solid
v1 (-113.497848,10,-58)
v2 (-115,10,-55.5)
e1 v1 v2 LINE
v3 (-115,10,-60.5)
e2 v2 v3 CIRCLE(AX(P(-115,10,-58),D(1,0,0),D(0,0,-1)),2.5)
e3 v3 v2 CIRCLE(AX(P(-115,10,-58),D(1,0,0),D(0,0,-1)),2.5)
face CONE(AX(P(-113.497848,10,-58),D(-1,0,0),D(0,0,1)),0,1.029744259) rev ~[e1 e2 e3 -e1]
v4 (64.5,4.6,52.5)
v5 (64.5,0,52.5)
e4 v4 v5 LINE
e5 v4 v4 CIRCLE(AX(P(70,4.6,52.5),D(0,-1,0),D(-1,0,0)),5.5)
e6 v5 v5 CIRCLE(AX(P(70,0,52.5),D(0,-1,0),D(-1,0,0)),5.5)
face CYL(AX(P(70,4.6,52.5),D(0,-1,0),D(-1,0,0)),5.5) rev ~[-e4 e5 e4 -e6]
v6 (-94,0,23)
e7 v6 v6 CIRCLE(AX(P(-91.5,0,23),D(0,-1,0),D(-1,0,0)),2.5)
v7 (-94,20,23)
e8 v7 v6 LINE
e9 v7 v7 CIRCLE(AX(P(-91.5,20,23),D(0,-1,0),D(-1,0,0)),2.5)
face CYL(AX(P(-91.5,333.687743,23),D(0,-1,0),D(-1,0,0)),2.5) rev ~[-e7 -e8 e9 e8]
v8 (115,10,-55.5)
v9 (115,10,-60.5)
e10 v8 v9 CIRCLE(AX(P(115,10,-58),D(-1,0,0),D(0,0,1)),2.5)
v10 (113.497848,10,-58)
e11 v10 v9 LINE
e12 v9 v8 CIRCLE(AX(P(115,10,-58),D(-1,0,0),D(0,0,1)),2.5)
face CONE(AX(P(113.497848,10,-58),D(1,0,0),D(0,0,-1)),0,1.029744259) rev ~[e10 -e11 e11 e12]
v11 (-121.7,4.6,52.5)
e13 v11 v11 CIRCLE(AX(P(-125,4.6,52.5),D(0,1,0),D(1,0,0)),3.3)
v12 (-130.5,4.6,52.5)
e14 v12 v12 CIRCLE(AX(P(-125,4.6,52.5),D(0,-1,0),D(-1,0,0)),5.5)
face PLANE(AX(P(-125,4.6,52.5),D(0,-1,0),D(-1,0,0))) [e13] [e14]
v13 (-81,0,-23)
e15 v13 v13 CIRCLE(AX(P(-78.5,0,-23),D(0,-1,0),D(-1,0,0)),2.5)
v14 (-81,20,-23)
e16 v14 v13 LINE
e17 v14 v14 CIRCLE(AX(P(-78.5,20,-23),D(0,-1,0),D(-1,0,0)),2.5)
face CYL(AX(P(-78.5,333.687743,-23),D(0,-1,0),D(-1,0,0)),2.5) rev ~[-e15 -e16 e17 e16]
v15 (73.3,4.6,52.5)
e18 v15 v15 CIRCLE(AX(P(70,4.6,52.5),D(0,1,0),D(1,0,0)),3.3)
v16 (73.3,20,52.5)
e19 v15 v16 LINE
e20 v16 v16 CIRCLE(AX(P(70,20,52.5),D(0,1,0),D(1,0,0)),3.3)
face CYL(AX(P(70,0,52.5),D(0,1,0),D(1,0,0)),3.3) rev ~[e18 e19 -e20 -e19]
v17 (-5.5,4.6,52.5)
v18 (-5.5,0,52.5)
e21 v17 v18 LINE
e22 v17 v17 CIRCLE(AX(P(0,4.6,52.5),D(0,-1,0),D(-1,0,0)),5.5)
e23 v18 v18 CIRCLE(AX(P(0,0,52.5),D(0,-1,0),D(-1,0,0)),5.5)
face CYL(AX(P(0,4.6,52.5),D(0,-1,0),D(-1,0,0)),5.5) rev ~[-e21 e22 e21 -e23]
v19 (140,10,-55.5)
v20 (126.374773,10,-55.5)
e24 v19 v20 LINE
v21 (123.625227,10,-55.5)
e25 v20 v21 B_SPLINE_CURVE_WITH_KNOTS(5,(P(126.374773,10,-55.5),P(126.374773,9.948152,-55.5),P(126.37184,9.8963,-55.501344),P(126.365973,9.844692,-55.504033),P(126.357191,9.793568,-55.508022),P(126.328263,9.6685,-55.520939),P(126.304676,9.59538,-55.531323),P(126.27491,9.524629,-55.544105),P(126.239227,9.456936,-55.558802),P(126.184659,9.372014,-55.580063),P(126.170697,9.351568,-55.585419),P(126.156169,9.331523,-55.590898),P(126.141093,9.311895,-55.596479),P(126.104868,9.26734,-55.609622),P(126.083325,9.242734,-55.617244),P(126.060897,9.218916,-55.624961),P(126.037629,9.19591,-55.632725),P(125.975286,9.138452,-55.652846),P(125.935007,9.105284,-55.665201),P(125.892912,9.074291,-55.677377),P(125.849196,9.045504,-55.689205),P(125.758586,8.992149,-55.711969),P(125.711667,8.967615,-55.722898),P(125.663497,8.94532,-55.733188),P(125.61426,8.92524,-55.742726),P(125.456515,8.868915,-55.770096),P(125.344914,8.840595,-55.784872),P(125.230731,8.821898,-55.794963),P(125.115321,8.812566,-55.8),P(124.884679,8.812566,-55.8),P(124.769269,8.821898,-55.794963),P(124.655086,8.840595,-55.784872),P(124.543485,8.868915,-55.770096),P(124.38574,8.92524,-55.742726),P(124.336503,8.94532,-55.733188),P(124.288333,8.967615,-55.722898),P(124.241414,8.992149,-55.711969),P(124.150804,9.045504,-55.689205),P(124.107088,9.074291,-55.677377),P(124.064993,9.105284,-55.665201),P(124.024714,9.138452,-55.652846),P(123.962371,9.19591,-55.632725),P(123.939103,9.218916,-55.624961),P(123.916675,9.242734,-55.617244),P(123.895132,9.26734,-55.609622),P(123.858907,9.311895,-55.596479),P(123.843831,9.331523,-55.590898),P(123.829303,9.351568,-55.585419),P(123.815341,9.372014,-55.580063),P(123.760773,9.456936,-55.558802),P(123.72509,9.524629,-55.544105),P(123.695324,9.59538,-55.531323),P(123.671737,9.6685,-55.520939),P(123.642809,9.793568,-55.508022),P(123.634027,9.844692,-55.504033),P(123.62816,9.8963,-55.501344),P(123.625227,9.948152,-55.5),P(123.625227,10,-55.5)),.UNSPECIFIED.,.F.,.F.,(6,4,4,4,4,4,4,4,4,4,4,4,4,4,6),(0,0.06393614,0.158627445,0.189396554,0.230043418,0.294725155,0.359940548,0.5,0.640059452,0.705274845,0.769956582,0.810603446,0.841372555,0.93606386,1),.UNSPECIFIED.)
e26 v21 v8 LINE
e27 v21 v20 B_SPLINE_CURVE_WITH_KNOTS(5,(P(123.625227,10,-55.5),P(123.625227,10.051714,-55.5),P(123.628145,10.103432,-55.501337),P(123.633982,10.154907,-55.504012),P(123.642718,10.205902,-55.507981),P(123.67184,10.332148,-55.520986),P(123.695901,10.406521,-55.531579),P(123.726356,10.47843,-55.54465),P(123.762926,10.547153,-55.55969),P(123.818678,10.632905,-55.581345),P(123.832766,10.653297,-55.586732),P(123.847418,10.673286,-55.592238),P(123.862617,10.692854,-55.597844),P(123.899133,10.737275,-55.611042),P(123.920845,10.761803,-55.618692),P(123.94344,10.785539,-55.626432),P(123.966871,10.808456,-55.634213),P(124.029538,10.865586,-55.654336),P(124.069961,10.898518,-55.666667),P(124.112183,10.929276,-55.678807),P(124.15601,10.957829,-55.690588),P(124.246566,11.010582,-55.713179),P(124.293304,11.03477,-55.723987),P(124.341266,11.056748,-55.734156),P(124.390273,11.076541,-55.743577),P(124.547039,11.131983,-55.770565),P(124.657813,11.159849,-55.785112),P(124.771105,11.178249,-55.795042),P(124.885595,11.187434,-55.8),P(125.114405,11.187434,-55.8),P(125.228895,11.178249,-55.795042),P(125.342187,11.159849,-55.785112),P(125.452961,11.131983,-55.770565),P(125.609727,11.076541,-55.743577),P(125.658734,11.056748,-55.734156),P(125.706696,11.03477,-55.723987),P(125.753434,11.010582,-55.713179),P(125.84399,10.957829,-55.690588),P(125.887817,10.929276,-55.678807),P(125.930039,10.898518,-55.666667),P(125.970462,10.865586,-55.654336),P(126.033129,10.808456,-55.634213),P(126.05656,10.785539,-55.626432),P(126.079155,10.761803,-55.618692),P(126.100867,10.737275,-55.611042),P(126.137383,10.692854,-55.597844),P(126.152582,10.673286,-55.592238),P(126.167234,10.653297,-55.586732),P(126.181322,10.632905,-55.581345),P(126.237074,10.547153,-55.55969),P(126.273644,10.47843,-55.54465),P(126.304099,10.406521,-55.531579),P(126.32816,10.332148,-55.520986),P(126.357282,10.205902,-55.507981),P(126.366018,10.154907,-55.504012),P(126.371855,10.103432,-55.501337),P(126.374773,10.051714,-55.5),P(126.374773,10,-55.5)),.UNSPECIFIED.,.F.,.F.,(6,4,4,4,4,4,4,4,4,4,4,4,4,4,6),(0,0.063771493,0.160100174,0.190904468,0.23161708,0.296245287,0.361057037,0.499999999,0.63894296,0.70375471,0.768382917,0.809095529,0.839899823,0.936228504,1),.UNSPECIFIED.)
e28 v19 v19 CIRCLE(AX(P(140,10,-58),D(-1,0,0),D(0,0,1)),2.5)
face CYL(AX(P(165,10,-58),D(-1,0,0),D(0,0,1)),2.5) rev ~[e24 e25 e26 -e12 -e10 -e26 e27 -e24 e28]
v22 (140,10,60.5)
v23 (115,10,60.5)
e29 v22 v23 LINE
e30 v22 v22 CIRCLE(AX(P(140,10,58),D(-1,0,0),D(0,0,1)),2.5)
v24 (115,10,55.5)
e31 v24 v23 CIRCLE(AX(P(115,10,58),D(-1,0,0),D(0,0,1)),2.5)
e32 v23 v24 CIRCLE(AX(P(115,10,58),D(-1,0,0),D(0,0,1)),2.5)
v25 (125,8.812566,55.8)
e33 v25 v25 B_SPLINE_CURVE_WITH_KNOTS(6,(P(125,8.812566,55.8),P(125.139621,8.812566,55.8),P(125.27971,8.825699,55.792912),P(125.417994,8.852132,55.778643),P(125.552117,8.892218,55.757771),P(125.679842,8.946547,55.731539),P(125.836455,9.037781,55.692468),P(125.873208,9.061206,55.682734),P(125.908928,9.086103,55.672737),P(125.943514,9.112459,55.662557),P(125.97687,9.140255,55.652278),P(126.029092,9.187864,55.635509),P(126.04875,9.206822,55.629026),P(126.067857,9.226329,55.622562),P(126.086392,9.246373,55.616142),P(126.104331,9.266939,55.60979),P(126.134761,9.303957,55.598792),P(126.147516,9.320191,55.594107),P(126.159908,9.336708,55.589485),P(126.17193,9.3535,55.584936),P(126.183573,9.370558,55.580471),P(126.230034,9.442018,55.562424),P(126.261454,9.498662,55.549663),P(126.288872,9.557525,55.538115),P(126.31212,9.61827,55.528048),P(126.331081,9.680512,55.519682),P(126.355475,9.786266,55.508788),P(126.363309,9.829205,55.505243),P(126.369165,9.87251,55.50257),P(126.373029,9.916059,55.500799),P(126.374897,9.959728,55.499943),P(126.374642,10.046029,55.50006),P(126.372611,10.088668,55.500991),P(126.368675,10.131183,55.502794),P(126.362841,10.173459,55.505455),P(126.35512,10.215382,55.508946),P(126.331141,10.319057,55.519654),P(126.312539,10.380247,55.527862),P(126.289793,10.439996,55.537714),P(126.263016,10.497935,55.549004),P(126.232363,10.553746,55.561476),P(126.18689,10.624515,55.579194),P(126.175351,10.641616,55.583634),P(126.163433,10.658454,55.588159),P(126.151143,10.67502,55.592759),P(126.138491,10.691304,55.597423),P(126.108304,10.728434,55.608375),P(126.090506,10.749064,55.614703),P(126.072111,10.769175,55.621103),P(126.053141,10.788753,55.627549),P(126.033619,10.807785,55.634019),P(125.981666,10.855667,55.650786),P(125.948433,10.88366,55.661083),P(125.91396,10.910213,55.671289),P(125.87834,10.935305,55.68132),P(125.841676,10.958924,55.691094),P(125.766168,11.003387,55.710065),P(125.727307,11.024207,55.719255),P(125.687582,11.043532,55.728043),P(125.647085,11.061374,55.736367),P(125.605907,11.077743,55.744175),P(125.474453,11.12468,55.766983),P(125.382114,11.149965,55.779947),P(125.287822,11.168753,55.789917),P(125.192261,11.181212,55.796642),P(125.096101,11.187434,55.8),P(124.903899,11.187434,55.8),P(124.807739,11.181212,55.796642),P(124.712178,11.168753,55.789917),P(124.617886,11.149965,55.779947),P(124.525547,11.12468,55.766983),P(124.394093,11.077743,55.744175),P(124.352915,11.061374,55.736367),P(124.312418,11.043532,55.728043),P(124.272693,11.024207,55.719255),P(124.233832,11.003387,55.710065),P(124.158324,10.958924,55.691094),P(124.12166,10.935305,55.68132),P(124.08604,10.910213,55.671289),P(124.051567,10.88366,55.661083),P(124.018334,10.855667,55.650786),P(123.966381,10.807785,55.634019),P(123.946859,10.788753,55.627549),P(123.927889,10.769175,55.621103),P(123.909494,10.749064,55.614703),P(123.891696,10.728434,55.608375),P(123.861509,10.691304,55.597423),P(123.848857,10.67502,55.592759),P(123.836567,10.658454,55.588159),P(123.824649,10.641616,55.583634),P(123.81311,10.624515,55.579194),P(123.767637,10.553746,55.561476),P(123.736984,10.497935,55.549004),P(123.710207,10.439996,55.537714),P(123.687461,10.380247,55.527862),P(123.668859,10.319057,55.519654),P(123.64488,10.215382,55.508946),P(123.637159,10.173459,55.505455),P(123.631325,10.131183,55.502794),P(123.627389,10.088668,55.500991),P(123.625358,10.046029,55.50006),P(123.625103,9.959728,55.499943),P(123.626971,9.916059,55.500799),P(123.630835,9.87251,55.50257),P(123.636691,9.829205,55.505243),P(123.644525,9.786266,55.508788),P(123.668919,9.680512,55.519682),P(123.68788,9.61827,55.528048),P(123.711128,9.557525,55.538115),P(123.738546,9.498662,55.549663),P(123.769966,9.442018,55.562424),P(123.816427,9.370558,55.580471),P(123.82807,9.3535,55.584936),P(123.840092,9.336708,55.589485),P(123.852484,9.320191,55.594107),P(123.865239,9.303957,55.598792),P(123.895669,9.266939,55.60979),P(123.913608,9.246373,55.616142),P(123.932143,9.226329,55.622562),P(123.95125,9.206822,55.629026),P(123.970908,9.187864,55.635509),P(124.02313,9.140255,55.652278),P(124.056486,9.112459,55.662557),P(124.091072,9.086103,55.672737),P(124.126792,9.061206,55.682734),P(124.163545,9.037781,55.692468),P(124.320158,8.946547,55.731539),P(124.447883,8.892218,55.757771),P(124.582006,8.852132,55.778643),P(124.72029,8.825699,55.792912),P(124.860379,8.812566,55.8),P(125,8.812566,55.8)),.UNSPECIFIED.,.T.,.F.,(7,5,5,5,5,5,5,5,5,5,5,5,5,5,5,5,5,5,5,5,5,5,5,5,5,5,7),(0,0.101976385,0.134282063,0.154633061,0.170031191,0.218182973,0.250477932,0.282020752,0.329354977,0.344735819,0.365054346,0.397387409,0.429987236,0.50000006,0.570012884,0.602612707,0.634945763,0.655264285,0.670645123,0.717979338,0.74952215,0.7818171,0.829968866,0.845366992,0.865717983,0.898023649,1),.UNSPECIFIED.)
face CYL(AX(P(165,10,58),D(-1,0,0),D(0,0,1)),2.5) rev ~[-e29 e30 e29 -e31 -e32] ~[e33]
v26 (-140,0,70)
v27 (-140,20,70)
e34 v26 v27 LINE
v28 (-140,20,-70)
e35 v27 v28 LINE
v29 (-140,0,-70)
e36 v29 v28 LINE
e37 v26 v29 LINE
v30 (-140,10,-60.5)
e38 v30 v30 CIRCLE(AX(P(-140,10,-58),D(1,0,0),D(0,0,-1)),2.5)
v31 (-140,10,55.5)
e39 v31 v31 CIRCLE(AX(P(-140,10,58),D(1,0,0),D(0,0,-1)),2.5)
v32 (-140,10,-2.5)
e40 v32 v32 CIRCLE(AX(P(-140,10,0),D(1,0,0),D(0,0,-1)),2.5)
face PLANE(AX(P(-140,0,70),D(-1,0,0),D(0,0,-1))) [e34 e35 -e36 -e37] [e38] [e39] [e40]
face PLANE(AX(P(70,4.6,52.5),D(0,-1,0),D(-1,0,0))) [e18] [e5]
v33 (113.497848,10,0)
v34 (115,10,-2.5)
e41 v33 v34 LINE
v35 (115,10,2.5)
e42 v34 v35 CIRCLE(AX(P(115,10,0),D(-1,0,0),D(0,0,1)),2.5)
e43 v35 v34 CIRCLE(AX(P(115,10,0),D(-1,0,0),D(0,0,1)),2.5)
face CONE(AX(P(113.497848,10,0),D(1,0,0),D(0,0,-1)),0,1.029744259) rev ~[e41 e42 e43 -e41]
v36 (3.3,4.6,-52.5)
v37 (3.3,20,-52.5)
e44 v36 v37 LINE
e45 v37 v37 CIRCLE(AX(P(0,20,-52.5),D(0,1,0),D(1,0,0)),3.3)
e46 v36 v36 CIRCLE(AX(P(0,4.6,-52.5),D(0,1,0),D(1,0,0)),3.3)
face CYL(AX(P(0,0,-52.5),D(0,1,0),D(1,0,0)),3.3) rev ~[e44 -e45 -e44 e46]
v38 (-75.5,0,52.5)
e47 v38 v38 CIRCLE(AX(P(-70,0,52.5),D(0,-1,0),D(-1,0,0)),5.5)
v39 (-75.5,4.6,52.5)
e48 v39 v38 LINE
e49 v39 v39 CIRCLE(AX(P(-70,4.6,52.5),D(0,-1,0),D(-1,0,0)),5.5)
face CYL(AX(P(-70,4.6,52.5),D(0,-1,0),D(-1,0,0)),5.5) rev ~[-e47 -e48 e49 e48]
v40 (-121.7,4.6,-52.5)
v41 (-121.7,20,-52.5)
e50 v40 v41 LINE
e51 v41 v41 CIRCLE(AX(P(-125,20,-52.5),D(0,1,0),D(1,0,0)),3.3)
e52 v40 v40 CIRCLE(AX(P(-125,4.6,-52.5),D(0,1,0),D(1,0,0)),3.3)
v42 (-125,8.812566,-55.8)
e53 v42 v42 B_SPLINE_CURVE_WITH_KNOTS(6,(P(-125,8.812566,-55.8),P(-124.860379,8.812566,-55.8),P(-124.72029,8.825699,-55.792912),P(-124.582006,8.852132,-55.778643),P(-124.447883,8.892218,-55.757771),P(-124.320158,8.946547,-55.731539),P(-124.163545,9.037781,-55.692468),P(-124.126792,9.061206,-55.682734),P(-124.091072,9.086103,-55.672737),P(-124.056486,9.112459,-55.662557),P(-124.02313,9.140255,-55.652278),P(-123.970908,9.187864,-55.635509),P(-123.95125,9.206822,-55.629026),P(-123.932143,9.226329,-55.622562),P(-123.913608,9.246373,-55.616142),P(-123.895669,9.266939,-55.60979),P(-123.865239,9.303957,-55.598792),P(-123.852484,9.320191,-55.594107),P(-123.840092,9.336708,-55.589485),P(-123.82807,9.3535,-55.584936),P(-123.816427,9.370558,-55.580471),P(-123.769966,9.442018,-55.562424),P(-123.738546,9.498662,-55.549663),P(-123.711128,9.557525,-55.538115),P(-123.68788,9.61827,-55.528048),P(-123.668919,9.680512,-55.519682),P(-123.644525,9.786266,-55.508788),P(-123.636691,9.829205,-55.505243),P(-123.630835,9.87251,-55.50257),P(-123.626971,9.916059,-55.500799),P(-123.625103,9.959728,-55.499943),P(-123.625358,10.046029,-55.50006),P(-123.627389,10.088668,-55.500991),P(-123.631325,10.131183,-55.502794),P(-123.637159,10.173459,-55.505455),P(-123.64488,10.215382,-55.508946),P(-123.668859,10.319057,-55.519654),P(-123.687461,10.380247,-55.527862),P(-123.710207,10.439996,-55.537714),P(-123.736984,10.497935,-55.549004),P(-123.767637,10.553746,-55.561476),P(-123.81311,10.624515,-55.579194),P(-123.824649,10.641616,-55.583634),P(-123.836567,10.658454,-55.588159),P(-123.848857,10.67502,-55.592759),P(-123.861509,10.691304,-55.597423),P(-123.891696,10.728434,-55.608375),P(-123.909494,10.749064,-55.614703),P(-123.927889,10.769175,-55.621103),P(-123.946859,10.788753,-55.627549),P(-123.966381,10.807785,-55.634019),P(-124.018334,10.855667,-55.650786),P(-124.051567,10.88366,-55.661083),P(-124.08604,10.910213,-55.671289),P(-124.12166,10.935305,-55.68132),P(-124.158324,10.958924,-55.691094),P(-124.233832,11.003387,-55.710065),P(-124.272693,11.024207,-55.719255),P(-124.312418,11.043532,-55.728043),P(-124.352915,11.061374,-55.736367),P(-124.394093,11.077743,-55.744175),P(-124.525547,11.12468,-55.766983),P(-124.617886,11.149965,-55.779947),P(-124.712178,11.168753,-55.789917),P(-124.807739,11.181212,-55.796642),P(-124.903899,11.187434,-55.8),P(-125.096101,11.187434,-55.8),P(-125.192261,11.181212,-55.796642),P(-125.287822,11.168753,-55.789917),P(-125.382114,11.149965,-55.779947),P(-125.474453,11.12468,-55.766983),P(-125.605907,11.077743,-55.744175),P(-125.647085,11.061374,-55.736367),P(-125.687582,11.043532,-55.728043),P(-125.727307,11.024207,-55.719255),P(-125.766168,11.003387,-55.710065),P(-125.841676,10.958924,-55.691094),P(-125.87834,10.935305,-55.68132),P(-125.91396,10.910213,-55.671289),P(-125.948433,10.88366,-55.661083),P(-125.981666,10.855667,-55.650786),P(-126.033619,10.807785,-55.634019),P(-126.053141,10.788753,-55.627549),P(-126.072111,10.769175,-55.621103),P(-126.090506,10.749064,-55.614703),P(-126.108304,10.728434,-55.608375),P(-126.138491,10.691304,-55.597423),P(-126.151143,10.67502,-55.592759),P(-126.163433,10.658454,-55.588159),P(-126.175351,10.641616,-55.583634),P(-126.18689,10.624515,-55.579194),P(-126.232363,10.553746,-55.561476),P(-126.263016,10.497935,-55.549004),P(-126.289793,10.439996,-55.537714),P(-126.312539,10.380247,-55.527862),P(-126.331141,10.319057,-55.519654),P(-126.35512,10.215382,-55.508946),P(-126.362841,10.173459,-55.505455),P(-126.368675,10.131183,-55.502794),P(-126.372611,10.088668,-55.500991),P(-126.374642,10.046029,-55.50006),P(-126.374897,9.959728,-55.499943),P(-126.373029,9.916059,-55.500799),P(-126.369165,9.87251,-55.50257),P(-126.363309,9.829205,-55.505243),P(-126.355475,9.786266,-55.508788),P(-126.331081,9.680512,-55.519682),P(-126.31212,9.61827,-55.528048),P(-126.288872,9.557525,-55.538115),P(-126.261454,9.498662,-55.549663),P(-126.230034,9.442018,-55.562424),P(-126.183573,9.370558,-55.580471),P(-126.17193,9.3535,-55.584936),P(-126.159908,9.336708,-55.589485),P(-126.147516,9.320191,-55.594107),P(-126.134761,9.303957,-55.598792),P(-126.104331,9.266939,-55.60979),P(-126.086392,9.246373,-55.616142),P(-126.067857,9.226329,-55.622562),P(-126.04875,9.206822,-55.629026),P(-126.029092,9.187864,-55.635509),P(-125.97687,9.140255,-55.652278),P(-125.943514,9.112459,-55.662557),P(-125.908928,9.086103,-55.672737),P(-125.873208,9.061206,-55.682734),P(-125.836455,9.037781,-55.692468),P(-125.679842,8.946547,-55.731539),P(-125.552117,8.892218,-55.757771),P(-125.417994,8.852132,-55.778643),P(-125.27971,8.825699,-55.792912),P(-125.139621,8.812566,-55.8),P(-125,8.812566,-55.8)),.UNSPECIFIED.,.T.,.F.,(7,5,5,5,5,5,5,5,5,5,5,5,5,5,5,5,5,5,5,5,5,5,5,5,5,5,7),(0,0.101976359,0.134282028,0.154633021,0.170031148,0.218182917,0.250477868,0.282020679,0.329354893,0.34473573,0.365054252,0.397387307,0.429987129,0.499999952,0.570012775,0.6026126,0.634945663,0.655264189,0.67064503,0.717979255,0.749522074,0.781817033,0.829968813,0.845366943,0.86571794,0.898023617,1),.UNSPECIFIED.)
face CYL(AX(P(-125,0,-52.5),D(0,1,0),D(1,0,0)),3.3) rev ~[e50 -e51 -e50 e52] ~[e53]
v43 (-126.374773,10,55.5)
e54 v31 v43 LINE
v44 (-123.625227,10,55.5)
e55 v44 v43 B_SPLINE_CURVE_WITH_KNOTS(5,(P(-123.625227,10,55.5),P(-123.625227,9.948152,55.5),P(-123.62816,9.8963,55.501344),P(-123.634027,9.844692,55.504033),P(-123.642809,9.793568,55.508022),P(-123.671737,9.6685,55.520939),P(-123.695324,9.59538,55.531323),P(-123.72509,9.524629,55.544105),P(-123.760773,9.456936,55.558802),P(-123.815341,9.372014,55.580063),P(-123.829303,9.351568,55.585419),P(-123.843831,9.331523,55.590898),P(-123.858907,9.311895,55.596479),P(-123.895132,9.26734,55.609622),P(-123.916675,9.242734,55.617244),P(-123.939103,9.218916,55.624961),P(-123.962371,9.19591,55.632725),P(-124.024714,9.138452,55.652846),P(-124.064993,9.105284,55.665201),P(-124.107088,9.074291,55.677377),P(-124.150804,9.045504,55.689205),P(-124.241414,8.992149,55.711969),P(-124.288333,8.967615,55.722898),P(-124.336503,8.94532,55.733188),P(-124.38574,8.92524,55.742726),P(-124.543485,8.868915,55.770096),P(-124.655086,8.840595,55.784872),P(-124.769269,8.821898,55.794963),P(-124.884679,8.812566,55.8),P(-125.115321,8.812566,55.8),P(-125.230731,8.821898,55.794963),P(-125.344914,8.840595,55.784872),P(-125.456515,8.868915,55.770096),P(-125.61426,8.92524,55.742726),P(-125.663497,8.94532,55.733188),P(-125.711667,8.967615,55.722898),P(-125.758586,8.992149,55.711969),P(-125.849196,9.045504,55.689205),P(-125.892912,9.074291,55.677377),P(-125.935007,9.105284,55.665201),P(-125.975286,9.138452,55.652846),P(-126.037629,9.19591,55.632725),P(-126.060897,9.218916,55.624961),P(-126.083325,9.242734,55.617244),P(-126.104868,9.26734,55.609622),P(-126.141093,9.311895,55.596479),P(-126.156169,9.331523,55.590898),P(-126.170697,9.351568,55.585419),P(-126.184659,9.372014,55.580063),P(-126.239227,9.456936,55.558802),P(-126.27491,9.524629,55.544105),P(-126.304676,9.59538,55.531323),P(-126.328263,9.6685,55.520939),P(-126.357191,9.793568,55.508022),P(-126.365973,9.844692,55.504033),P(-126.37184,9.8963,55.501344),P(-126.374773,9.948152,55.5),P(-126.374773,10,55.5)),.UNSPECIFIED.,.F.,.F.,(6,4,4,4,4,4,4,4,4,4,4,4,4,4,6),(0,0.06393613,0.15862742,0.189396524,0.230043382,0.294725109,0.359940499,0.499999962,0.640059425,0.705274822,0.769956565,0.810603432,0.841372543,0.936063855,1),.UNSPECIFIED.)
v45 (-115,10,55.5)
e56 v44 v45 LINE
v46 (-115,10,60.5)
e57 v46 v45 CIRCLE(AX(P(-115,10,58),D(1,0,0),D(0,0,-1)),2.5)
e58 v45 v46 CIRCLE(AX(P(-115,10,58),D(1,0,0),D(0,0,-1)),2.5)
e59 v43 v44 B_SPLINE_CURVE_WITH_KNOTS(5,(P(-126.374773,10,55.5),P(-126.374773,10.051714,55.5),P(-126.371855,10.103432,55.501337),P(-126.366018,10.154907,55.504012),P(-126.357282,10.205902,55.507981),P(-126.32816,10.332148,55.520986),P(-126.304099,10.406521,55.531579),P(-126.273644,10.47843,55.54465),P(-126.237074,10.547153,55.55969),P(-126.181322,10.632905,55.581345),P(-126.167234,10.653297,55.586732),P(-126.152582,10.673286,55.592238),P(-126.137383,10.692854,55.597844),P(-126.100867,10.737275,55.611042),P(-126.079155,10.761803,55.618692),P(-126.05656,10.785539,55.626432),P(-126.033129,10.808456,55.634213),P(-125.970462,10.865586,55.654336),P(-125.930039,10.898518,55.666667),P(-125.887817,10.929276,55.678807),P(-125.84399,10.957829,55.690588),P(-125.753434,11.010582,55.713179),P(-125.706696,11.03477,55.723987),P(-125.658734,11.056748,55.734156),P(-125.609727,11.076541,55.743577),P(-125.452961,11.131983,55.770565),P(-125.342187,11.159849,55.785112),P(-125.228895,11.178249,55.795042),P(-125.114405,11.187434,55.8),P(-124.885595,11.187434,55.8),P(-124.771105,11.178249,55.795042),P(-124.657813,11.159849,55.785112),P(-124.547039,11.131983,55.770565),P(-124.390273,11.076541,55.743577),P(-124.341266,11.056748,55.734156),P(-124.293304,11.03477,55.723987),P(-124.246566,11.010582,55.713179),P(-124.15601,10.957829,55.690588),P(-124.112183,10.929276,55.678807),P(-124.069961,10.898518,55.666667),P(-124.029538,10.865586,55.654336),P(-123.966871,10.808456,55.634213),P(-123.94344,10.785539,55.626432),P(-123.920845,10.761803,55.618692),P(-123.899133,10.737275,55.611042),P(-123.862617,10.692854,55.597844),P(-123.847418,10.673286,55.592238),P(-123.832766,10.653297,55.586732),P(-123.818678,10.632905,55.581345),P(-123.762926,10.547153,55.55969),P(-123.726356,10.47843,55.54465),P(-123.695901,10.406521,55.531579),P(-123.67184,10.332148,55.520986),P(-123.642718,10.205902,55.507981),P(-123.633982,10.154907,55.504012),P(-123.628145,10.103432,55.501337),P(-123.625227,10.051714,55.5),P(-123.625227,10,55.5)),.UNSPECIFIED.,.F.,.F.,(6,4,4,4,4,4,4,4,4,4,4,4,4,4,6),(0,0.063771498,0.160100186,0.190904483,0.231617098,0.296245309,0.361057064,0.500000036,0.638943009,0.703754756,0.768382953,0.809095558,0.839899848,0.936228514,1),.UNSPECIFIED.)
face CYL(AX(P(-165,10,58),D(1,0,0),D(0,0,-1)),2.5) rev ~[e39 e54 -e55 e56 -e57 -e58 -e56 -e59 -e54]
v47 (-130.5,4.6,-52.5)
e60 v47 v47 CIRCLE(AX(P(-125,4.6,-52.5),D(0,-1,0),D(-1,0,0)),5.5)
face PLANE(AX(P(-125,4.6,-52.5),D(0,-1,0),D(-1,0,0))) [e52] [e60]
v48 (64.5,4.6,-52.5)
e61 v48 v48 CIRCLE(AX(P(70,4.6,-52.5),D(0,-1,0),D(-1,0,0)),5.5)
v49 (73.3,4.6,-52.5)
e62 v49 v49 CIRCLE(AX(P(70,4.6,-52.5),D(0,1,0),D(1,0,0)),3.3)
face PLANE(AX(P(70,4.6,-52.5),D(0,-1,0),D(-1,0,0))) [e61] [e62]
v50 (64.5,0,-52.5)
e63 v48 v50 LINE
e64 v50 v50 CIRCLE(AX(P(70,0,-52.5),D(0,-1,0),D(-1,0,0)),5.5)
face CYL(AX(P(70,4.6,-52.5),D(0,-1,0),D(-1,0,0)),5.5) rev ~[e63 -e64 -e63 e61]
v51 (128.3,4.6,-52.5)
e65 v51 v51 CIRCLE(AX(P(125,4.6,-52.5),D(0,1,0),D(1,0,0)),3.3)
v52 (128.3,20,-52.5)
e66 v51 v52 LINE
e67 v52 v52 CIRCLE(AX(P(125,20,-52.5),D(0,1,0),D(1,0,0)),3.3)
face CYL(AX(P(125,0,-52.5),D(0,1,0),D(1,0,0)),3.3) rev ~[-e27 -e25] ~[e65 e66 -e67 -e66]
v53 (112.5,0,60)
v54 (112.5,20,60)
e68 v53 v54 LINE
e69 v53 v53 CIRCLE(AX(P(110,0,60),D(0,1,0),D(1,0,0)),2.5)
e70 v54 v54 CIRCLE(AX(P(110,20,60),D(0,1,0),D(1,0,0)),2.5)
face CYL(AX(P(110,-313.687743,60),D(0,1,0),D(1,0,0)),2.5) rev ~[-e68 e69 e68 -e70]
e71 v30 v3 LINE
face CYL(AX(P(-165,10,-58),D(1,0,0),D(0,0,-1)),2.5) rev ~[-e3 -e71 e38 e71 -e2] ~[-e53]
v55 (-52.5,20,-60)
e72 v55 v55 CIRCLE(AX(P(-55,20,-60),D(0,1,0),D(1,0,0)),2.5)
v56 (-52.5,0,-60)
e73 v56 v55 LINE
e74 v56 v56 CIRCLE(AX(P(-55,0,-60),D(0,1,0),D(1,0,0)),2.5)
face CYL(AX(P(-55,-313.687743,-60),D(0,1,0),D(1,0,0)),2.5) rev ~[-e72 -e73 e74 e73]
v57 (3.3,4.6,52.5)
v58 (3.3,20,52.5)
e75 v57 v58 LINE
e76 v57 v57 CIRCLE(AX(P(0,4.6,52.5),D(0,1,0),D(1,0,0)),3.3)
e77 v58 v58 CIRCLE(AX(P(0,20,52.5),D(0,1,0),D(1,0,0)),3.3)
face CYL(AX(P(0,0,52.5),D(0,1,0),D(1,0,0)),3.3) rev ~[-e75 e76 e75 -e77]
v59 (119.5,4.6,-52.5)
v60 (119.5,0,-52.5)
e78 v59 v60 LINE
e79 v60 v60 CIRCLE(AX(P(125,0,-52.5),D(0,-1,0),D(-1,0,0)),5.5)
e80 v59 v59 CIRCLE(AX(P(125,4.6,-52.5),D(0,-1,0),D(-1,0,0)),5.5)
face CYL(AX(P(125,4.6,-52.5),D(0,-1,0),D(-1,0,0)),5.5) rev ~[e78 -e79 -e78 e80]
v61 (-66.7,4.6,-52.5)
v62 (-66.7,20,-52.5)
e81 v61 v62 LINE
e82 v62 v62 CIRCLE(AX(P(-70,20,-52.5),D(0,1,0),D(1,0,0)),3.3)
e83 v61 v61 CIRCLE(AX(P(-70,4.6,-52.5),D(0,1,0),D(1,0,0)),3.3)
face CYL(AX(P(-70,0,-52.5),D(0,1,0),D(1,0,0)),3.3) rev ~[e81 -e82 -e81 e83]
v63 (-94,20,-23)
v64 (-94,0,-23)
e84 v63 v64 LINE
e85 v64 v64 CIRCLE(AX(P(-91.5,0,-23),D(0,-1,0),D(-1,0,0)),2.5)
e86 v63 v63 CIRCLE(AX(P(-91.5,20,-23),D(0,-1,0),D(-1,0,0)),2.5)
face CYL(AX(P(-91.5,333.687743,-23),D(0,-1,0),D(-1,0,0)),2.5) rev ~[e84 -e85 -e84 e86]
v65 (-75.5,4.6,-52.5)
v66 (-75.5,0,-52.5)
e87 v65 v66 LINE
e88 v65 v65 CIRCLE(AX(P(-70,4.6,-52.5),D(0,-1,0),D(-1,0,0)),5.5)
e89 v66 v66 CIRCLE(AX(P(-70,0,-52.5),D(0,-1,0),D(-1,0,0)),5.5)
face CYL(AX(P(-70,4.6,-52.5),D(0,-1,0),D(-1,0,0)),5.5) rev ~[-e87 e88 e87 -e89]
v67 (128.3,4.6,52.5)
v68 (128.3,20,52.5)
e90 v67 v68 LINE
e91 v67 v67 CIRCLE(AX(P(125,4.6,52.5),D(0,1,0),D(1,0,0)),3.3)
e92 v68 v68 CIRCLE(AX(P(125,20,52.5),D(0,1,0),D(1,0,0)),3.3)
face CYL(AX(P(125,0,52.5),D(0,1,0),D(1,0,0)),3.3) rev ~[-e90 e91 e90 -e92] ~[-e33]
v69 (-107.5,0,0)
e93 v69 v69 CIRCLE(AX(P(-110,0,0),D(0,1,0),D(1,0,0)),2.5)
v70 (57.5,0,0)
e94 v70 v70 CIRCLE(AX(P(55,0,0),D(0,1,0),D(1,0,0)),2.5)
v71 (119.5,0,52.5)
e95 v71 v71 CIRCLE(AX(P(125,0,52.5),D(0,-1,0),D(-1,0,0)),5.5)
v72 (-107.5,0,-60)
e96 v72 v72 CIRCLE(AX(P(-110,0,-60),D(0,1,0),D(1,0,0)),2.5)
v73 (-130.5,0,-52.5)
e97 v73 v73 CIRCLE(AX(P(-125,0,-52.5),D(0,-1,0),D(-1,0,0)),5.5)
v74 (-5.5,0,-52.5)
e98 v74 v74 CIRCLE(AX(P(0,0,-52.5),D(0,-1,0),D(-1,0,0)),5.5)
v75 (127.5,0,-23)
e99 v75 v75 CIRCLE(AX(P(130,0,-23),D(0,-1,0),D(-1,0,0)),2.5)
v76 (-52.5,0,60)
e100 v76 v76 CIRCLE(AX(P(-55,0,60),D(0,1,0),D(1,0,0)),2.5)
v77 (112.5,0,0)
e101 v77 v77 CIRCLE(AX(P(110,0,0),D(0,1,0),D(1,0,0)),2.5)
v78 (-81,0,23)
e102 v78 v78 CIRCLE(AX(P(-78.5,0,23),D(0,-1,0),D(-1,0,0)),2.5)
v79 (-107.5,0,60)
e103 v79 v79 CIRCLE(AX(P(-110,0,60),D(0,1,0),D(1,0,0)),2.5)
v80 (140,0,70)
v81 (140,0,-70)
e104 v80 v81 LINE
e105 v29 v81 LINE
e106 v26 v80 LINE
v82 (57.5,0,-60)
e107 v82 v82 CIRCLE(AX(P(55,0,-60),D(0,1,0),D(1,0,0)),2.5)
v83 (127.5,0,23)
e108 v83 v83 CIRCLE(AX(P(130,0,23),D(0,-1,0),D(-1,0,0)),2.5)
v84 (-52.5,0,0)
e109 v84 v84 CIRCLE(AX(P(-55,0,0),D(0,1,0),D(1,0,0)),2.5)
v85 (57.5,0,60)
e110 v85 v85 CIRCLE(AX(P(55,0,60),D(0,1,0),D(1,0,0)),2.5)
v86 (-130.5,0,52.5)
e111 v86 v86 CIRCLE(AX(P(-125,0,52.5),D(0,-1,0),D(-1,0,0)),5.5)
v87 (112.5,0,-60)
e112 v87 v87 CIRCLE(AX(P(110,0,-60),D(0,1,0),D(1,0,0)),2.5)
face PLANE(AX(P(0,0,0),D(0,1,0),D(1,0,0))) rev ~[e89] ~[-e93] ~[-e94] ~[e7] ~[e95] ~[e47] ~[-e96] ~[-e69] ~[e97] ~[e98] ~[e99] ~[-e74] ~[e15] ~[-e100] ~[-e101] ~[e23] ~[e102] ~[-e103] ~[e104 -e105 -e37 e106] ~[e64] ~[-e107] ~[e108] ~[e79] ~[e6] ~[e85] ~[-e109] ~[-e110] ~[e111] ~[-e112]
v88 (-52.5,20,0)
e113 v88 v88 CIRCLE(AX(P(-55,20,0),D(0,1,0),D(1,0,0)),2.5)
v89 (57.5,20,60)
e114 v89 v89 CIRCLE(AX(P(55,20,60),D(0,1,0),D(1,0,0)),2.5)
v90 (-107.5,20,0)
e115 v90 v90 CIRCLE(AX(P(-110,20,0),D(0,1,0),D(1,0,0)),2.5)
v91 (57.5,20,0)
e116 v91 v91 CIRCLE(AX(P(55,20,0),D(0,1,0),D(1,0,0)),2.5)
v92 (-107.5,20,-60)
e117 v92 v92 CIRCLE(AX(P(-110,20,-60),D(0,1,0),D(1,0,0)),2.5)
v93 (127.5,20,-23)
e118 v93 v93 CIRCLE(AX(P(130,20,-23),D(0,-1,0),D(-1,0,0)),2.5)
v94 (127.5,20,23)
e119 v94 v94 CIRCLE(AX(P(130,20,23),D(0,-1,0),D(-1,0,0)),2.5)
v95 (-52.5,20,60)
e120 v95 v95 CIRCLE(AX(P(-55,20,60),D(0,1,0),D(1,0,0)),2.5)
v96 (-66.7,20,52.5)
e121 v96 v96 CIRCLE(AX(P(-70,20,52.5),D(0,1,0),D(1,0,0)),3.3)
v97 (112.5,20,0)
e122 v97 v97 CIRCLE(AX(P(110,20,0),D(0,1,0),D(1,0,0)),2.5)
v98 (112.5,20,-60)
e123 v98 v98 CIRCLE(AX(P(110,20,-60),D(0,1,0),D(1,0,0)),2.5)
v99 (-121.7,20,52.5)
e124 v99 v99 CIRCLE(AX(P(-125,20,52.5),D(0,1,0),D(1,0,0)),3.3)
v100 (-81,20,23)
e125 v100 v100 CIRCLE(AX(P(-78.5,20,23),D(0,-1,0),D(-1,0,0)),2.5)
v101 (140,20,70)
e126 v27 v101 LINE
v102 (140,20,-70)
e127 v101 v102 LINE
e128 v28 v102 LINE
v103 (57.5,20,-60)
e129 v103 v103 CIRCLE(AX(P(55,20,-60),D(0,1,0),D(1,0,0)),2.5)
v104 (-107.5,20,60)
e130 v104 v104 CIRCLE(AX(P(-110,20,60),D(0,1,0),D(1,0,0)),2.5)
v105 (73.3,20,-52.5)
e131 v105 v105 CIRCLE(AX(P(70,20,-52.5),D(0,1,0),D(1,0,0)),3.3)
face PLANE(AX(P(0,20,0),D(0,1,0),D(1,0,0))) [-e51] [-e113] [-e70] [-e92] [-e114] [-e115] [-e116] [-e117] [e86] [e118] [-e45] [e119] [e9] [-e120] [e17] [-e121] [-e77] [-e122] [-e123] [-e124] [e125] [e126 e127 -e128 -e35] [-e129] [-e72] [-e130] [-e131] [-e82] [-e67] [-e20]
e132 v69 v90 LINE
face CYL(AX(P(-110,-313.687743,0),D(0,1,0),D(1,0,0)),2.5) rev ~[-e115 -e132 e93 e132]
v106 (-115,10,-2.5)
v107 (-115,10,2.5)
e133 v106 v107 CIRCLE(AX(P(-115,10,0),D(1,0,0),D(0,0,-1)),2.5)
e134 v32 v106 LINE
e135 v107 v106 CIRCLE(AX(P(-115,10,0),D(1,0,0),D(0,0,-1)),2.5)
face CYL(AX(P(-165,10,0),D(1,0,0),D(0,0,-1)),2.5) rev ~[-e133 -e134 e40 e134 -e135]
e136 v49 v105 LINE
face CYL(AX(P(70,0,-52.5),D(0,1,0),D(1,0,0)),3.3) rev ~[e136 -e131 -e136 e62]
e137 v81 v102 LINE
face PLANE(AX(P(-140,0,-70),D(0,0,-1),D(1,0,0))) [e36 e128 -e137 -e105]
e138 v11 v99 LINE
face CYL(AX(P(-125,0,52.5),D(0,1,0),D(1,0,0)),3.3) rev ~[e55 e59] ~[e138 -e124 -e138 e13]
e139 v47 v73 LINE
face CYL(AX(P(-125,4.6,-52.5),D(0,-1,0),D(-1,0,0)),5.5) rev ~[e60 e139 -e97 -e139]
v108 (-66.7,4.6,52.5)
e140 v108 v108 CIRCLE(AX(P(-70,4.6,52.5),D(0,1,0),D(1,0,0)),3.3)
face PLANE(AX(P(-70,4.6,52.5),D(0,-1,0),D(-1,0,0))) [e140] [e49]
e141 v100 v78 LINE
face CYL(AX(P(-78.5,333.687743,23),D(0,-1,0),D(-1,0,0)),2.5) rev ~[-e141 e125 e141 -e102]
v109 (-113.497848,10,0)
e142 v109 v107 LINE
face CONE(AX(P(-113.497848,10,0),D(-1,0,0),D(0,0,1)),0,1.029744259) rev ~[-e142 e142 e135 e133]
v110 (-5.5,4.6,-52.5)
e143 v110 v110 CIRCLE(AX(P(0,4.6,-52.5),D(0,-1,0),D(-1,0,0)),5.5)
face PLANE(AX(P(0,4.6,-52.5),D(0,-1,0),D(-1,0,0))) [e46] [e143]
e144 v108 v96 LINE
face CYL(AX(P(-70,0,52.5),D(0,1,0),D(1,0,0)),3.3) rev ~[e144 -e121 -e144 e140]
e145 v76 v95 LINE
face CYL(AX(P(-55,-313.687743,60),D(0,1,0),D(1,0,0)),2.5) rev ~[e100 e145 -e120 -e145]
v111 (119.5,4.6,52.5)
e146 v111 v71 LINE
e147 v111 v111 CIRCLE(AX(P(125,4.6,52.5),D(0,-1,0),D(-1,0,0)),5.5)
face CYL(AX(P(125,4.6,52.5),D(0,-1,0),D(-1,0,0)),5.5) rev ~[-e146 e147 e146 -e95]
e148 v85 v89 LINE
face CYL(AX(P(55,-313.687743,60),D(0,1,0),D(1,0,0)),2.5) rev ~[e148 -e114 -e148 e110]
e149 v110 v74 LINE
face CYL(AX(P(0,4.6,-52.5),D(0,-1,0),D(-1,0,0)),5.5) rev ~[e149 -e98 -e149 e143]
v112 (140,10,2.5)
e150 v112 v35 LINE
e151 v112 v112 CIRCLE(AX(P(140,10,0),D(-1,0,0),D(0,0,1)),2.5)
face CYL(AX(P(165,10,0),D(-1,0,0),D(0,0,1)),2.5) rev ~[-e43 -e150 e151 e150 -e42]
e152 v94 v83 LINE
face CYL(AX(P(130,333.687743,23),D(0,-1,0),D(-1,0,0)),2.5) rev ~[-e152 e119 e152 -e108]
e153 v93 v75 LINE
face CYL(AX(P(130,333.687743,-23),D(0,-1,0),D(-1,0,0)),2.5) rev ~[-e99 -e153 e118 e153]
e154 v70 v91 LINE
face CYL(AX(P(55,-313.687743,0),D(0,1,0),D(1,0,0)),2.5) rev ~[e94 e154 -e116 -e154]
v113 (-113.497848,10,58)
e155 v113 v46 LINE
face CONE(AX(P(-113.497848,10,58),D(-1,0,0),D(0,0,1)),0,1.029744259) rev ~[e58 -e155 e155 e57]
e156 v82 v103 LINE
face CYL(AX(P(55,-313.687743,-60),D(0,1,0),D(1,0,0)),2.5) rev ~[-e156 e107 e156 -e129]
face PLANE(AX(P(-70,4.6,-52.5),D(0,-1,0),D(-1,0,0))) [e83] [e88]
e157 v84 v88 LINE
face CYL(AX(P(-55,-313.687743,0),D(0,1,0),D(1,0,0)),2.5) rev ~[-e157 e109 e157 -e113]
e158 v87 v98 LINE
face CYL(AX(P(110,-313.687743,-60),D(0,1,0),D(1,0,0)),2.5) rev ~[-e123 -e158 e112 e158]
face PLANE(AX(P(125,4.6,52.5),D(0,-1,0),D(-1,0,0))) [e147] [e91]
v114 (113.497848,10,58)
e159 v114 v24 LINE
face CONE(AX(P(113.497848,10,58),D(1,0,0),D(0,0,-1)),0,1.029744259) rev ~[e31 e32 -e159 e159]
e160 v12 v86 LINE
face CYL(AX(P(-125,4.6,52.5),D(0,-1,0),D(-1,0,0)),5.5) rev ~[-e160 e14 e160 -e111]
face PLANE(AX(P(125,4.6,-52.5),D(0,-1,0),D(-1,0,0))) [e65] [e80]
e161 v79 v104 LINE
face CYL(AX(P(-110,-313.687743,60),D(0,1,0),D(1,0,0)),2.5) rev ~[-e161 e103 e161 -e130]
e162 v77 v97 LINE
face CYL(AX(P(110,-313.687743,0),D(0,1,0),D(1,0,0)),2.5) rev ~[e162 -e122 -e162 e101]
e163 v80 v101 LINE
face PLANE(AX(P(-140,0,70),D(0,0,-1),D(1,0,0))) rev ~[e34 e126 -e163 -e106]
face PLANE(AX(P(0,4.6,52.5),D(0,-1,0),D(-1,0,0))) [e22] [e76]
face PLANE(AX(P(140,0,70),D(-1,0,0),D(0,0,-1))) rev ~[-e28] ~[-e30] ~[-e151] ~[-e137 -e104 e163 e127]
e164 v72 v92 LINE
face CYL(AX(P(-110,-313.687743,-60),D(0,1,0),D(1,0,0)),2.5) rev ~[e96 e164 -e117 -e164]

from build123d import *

# Parameters (mm, degrees)
SKETCH1_W                                            = 280
SKETCH1_H                                            = 140
EXTRUDE1_DEPTH                                       = 20
M6_TAPPED_HOLE1_D                                    = 5
M6_TAPPED_HOLE2_D                                    = 5
M6_TAPPED_HOLE3_D                                    = 5
M6_TAPPED_HOLE3_DEPTH                                = 25
M6_TAPPED_HOLE3_TIP                                  = 1.502151548
CBORE_FOR_M6_HEX_SOCKET_THIN_HEAD_CAP_SC_D           = 6.6
CBORE_FOR_M6_HEX_SOCKET_THIN_HEAD_CAP_SC_CBORE_D     = 11
CBORE_FOR_M6_HEX_SOCKET_THIN_HEAD_CAP_SC_CBORE_DEPTH = 4.6
M6_TAPPED_HOLE4_D                                    = 5
M6_TAPPED_HOLE4_DEPTH                                = 25
M6_TAPPED_HOLE4_TIP                                  = 1.502151548


with BuildPart() as part:
    # Sketch1 → Extrude1 (new body)
    with BuildSketch(Plane(origin=(0, 0, 0), x_dir=(1, 0, 0), z_dir=(0, 1, 0))):
        Rectangle(SKETCH1_W, SKETCH1_H)
    extrude(amount=EXTRUDE1_DEPTH)

    # M6 Tapped Hole1 (through all)
    with Locations(Plane(origin=(0, 0, 0), x_dir=(-1, 0, 0), z_dir=(0, -1, 0))):
        with Locations((-110, 60), (-55, 60), (-110, 0), (-55, 0), (-110, -60), (-55, -60), (55, 60), (110, 60), (110, 0), (55, 0), (110, -60), (55, -60)):
            Hole(M6_TAPPED_HOLE1_D / 2)

    # M6 Tapped Hole2 (through all)
    with Locations(Plane(origin=(0, 20, 0), x_dir=(1, 0, 0), z_dir=(0, 1, 0))):
        with Locations((-91.5, 23), (-78.5, 23), (-91.5, -23), (-78.5, -23), (130, 23), (130, -23)):
            Hole(M6_TAPPED_HOLE2_D / 2)

    # M6 Tapped Hole3
    with Locations(Plane(origin=(140, 0, 0), x_dir=(0, 0, -1), z_dir=(1, 0, 0))):
        with Locations((-58, 10), (0, 10), (58, 10)):
            Hole(M6_TAPPED_HOLE3_D / 2, depth=M6_TAPPED_HOLE3_DEPTH)
            with Locations((0, 0, -(M6_TAPPED_HOLE3_DEPTH + M6_TAPPED_HOLE3_TIP / 2))):  # 118° drill point
                Cone(0, M6_TAPPED_HOLE3_D / 2, M6_TAPPED_HOLE3_TIP, mode=Mode.SUBTRACT)

    # CBORE for M6 Hex Socket Thin Head Cap Screw1 (through all)
    with Locations(Plane(origin=(0, 0, 0), x_dir=(-1, 0, 0), z_dir=(0, -1, 0))):
        with Locations((-125, 52.5), (-70, 52.5), (0, 52.5), (0, -52.5), (-70, -52.5), (-125, -52.5), (125, -52.5), (70, -52.5), (70, 52.5), (125, 52.5)):
            CounterBoreHole(CBORE_FOR_M6_HEX_SOCKET_THIN_HEAD_CAP_SC_D / 2, CBORE_FOR_M6_HEX_SOCKET_THIN_HEAD_CAP_SC_CBORE_D / 2, CBORE_FOR_M6_HEX_SOCKET_THIN_HEAD_CAP_SC_CBORE_DEPTH)

    # M6 Tapped Hole4
    with Locations(Plane.ZY.offset(140)):
        with Locations((58, 10), (0, 10), (-58, 10)):
            Hole(M6_TAPPED_HOLE4_D / 2, depth=M6_TAPPED_HOLE4_DEPTH)
            with Locations((0, 0, -(M6_TAPPED_HOLE4_DEPTH + M6_TAPPED_HOLE4_TIP / 2))):  # 118° drill point
                Cone(0, M6_TAPPED_HOLE4_D / 2, M6_TAPPED_HOLE4_TIP, mode=Mode.SUBTRACT)


solid = part.part
